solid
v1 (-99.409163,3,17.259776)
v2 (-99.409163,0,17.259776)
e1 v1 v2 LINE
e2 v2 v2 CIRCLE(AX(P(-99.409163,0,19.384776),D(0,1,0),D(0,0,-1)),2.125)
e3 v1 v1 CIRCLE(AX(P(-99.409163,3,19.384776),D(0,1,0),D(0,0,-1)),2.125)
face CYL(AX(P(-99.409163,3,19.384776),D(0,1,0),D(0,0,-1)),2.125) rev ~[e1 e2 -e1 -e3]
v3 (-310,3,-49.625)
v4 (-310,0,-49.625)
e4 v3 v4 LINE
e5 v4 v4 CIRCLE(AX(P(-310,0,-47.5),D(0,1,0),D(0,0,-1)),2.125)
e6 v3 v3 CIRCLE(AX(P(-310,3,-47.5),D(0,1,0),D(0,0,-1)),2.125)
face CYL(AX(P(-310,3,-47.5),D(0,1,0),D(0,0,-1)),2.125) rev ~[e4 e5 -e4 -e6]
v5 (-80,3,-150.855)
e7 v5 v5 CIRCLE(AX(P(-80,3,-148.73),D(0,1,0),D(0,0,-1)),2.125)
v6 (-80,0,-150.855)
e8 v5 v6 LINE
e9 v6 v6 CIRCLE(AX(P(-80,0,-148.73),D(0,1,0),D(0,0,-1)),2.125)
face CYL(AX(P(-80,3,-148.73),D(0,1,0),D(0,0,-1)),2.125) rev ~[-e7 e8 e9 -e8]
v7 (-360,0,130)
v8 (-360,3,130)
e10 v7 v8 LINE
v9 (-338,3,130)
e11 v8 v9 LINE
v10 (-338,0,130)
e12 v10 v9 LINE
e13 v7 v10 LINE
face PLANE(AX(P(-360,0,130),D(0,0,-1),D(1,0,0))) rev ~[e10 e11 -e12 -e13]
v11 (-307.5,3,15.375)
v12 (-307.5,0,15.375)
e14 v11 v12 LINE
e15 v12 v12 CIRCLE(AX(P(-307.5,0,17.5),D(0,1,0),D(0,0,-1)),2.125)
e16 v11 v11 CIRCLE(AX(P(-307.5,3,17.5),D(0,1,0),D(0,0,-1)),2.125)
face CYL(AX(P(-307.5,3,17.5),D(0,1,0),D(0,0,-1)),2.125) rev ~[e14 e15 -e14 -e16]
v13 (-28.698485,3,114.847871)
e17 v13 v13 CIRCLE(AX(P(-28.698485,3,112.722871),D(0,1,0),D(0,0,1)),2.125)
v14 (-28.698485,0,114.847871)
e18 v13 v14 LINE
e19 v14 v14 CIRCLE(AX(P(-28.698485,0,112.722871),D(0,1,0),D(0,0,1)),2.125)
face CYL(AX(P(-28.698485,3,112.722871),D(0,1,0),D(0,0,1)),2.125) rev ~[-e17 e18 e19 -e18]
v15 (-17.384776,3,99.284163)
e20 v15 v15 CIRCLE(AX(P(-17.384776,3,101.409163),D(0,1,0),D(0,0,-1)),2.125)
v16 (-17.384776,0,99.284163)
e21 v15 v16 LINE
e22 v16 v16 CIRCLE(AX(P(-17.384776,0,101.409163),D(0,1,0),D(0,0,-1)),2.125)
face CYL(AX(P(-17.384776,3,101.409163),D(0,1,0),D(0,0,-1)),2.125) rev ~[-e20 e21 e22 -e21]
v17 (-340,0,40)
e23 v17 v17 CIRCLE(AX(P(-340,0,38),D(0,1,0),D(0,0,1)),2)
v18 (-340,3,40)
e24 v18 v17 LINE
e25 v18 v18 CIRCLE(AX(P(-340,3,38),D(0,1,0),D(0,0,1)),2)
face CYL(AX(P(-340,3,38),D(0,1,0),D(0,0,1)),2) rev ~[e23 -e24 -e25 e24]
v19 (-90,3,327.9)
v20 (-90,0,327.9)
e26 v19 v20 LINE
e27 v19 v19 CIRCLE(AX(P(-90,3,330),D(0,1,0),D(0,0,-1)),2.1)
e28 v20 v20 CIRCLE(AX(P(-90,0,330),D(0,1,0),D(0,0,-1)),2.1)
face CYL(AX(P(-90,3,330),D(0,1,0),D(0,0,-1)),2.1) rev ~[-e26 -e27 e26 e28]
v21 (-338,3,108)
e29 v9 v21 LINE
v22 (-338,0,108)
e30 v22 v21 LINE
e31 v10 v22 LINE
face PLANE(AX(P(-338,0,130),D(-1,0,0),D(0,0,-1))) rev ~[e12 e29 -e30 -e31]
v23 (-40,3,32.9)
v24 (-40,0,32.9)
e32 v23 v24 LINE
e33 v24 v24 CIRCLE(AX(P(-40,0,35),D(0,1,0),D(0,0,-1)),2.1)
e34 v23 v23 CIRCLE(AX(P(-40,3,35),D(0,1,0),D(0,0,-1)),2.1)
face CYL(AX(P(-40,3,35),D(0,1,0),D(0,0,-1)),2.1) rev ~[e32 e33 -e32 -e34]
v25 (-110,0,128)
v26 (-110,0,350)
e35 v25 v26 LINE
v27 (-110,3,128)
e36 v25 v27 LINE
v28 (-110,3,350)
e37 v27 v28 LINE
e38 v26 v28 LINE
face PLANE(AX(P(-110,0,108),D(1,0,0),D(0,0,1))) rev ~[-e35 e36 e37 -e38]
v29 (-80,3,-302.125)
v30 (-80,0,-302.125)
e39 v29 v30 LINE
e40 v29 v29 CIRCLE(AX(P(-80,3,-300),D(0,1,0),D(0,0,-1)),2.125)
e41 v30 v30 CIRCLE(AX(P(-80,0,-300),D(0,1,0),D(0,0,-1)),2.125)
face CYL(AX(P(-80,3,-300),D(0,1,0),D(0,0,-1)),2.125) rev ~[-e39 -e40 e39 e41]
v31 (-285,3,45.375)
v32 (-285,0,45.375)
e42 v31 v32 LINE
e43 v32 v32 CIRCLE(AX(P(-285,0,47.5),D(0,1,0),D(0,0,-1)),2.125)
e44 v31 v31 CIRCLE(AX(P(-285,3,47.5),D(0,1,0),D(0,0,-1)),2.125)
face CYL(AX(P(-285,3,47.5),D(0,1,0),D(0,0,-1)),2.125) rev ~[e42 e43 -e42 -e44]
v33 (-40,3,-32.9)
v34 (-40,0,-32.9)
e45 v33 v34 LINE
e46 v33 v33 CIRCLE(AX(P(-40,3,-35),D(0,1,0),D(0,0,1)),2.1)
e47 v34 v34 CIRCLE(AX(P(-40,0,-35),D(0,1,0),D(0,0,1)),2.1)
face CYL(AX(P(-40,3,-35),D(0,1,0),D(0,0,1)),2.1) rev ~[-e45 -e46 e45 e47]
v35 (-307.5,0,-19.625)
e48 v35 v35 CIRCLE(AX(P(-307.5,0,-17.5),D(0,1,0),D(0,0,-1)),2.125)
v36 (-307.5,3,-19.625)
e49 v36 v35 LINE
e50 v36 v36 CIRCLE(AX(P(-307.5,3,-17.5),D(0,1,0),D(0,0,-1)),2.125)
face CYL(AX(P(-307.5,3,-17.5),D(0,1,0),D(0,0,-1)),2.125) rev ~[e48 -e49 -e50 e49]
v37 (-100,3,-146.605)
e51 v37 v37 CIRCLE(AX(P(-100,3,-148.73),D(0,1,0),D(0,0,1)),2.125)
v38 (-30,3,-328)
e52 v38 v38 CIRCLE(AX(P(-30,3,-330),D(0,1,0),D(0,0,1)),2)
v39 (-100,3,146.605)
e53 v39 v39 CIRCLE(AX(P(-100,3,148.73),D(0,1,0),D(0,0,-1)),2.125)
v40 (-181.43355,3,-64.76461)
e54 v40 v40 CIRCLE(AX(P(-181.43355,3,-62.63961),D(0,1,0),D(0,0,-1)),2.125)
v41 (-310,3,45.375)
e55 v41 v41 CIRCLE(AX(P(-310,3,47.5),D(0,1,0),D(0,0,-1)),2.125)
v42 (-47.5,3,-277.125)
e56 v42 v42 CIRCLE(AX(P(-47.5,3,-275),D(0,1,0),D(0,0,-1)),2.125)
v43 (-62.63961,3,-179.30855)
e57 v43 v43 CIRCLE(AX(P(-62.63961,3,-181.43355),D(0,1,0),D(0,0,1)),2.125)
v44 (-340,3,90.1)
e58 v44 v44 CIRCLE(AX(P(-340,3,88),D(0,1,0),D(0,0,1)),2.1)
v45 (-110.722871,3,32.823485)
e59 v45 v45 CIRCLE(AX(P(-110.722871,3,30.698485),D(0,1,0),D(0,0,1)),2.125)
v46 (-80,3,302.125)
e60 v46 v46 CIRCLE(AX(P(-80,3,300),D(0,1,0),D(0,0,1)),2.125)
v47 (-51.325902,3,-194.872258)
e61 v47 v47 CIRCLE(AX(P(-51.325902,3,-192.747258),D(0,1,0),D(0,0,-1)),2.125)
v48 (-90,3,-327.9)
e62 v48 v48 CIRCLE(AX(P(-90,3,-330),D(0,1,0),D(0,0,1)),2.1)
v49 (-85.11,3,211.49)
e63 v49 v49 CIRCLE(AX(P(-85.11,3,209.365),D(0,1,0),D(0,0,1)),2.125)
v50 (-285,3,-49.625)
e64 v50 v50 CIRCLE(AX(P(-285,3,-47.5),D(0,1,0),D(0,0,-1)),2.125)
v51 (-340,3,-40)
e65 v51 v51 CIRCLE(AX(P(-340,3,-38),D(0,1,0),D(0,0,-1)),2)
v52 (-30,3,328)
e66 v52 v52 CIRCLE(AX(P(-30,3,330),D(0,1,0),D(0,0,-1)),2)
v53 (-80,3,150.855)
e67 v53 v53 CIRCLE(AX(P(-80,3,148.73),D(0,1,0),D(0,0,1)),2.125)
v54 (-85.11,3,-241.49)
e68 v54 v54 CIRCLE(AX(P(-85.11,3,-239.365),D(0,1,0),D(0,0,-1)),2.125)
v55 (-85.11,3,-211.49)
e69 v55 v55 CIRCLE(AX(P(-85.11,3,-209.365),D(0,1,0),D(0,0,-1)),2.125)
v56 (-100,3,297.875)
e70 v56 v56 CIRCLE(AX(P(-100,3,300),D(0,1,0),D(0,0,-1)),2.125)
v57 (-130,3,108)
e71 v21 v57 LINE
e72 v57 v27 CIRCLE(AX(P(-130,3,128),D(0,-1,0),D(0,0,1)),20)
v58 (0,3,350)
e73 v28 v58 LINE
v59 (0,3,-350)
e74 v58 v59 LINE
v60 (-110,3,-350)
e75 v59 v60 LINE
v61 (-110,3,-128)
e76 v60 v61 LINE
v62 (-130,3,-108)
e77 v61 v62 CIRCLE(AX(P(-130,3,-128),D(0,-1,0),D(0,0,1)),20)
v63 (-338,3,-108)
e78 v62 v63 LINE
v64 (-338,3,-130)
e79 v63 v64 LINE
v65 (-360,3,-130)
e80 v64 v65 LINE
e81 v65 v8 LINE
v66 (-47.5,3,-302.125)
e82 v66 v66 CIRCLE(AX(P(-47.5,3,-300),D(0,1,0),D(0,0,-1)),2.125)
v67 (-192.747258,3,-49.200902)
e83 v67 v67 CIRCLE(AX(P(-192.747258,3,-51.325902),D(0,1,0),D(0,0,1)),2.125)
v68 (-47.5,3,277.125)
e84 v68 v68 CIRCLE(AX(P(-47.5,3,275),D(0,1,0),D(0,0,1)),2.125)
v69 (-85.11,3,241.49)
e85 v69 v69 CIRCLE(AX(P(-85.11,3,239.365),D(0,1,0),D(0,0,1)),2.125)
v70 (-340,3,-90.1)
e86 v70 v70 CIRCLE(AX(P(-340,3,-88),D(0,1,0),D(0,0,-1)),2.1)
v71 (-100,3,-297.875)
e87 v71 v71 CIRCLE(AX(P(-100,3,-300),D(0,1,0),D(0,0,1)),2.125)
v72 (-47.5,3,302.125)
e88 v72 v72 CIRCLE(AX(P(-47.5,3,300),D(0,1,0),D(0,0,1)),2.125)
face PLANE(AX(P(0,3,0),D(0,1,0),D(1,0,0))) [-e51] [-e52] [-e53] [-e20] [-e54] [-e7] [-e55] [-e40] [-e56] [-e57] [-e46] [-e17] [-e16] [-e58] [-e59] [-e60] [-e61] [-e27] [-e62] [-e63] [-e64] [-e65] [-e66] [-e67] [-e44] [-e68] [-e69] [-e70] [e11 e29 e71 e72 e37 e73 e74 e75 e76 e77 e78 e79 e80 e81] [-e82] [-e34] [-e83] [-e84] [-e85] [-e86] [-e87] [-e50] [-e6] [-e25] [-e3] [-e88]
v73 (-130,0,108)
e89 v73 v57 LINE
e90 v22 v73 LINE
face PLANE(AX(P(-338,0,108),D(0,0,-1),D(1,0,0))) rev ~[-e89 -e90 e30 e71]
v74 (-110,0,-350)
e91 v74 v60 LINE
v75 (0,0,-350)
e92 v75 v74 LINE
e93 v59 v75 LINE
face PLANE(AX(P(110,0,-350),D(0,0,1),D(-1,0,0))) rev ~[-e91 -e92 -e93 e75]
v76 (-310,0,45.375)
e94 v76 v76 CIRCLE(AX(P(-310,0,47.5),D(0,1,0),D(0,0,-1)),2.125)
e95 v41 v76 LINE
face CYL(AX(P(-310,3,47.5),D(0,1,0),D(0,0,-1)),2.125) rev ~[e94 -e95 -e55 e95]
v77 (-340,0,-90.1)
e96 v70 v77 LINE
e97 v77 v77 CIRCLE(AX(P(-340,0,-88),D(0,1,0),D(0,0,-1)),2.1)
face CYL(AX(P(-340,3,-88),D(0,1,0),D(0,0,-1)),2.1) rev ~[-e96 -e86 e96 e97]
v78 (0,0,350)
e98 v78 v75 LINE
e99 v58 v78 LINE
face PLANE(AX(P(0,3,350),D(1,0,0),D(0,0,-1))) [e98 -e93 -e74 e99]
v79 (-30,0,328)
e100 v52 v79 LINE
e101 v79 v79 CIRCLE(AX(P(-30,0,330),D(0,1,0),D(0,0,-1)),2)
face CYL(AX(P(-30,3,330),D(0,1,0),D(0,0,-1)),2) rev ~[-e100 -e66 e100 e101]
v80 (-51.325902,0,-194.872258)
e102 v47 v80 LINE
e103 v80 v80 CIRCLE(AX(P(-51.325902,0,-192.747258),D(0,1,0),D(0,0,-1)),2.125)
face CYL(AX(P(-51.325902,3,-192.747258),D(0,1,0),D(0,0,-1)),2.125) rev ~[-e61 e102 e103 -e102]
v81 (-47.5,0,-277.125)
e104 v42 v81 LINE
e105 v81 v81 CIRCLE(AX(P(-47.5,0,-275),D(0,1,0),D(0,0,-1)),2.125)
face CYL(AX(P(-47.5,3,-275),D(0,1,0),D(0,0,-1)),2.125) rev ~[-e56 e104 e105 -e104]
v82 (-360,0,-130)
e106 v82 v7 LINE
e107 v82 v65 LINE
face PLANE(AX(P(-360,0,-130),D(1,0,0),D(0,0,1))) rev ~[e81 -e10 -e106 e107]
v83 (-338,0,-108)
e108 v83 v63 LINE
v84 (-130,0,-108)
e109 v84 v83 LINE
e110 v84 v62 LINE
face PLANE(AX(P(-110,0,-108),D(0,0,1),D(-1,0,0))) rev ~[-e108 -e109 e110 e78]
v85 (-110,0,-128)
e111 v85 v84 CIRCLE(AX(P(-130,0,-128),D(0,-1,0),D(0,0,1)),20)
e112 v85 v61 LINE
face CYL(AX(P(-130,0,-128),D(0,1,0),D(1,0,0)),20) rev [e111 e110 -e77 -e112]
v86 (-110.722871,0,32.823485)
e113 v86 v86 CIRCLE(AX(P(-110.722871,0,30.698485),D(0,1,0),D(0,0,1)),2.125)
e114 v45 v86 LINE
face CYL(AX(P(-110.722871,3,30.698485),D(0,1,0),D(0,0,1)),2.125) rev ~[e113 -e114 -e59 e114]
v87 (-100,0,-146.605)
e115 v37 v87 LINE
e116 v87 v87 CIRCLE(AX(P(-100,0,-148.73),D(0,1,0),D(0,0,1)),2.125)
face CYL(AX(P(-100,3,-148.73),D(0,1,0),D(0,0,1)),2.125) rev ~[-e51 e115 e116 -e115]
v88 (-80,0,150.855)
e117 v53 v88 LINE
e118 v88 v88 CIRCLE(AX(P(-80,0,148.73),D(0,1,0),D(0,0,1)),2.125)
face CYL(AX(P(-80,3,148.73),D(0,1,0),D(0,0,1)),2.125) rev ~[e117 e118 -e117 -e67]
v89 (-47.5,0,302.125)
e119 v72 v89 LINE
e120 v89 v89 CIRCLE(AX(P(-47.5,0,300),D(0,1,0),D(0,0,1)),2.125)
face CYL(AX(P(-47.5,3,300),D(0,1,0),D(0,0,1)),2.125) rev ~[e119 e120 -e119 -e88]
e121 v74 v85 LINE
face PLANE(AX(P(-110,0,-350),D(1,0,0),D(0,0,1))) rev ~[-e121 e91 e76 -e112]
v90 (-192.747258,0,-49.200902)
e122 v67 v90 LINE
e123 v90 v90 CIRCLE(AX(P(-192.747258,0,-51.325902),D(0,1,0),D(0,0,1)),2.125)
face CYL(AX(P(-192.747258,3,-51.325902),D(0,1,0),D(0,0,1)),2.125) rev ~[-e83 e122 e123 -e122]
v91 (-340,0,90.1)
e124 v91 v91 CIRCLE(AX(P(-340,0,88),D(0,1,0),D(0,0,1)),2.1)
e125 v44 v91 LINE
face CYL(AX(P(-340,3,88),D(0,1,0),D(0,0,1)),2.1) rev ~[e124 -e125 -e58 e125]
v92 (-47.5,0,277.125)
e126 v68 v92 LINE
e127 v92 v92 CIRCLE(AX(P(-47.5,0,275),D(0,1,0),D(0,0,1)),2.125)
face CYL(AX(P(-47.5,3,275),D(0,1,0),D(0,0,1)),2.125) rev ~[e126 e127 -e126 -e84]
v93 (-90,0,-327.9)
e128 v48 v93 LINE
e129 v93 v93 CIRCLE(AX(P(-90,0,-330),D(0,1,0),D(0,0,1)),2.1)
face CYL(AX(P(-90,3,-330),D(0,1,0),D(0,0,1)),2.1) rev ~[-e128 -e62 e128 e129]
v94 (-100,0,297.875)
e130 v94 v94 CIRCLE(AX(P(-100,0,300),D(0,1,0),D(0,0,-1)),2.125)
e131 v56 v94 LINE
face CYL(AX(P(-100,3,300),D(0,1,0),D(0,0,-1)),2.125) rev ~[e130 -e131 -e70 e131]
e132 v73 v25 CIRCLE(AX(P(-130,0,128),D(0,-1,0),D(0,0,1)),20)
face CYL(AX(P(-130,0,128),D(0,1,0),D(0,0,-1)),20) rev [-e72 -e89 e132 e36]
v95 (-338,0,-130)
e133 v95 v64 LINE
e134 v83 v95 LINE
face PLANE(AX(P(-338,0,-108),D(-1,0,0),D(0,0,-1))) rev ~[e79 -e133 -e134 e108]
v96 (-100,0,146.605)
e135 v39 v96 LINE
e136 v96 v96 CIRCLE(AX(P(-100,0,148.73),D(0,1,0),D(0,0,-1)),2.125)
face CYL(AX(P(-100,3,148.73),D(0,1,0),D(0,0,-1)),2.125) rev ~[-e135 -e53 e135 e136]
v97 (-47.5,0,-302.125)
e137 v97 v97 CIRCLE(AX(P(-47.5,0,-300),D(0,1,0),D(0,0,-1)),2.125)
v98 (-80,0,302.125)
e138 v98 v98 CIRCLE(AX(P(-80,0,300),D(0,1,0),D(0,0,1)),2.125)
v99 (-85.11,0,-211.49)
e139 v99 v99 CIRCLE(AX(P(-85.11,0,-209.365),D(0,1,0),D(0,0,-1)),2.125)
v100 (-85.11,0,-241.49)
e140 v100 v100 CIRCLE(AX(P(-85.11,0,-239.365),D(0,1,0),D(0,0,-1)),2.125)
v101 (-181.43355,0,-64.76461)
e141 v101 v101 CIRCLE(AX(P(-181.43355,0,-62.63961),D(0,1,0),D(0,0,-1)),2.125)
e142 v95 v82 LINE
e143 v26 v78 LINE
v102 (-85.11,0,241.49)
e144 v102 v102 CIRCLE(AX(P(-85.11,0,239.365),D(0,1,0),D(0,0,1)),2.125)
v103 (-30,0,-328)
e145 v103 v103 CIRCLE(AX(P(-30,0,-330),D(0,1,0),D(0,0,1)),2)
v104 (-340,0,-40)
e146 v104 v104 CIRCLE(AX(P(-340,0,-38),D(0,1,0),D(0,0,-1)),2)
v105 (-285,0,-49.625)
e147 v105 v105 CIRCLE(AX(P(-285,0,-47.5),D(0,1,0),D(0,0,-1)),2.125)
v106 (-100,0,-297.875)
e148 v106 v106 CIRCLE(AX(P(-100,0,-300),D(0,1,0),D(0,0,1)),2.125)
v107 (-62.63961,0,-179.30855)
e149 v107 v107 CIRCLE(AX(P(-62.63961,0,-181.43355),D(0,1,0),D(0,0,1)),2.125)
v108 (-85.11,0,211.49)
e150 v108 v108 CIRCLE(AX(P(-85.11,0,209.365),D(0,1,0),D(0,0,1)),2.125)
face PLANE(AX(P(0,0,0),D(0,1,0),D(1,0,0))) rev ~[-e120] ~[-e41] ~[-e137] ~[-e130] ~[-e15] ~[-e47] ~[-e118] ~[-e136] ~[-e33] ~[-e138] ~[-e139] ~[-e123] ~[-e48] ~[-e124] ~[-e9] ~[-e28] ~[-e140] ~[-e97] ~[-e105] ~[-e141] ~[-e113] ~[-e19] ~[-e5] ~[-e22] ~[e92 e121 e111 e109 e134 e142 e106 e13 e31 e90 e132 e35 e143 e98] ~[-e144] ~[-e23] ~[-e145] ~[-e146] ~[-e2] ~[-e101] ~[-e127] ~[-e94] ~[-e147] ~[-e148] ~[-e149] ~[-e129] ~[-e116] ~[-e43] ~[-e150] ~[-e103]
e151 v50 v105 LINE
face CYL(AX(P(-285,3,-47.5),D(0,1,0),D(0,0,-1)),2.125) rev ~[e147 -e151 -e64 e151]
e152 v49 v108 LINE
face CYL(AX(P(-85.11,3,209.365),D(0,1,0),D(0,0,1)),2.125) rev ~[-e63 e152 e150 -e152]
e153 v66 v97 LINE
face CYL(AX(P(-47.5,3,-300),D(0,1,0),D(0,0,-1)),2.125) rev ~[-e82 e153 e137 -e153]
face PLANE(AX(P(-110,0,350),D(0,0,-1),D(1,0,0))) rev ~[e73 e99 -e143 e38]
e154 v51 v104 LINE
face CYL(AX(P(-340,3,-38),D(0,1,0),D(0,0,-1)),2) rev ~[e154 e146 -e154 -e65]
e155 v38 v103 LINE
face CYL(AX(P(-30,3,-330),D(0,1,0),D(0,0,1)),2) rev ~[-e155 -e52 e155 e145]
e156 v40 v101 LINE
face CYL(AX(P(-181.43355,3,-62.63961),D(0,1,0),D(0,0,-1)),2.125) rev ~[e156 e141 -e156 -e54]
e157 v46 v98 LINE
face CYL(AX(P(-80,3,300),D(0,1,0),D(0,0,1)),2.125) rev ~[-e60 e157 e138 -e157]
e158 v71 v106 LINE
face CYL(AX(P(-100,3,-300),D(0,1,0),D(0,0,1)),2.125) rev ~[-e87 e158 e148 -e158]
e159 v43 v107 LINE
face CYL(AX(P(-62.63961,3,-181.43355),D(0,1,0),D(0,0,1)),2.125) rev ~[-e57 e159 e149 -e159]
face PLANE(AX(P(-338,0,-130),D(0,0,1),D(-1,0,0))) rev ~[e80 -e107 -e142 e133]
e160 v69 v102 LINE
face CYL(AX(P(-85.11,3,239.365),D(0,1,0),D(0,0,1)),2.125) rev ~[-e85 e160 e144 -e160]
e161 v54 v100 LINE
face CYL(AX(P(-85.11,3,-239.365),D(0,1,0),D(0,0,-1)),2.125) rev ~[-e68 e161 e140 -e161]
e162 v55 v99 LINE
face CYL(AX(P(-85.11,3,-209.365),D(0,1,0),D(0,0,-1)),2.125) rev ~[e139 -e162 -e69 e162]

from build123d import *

# Parameters (mm, degrees)
BOSS_EXTRUDE1_DEPTH = 3
SKETCH2_R           = 2.125
CUT_EXTRUDE1_DEPTH  = 503.104570782
SKETCH3_R           = 2
CUT_EXTRUDE2_DEPTH  = 503.104570782
SKETCH5_R           = 2.125
CUT_EXTRUDE4_DEPTH  = 10
FILLET1_R           = 20
SKETCH6_R           = 2.125
CUT_EXTRUDE5_DEPTH  = 503.104570782
SKETCH8_R           = 2.1
CUT_EXTRUDE6_DEPTH  = 10
SKETCH7_R           = 2.1
CUT_EXTRUDE7_DEPTH  = 10
SKETCH9_W           = 360
SKETCH9_H           = 700
CUT_EXTRUDE8_DEPTH  = 10


with BuildPart() as part:
    # Sketch1 → Boss-Extrude1 (new body)
    with BuildSketch(Plane(origin=(0, 0, 0), x_dir=(1, 0, 0), z_dir=(0, 1, 0))):
        Polygon((-110, 350), (-110, 108), (-338, 108), (-338, 130), (-360, 130), (-360, -130), (-338, -130), (-338, -108), (-110, -108), (-110, -350), (110, -350), (110, -108), (338, -108), (338, -130), (360, -130), (360, 130), (338, 130), (338, 108), (110, 108), (110, 350), align=None)
    extrude(amount=BOSS_EXTRUDE1_DEPTH)

    # Sketch2 → Cut-Extrude1 (cut, through all)
    with BuildSketch(Plane(origin=(0, 3, 0), x_dir=(1, 0, 0), z_dir=(0, 1, 0))):
        with Locations(Location((310, 47.5, 0), (0, 0, 270))):
            Circle(SKETCH2_R)
        with Locations(Location((285, 47.5, 0), (0, 0, 270))):
            Circle(SKETCH2_R)
        with Locations(Location((307.5, 17.5, 0), (0, 0, 270))):
            Circle(SKETCH2_R)
        with Locations(Location((307.5, -17.5, 0), (0, 0, 270))):
            Circle(SKETCH2_R)
        with Locations(Location((310, -47.5, 0), (0, 0, 270))):
            Circle(SKETCH2_R)
        with Locations(Location((285, -47.5, 0), (0, 0, 270))):
            Circle(SKETCH2_R)
        with Locations(Location((-285, -47.5, 0), (0, 0, 90))):
            Circle(SKETCH2_R)
        with Locations(Location((-310, -47.5, 0), (0, 0, 90))):
            Circle(SKETCH2_R)
        with Locations(Location((-307.5, -17.5, 0), (0, 0, 90))):
            Circle(SKETCH2_R)
        with Locations(Location((-307.5, 17.5, 0), (0, 0, 90))):
            Circle(SKETCH2_R)
        with Locations(Location((-285, 47.5, 0), (0, 0, 90))):
            Circle(SKETCH2_R)
        with Locations(Location((-310, 47.5, 0), (0, 0, 90))):
            Circle(SKETCH2_R)
        with Locations(Location((47.5, 300, 0), (0, 0, 270))):
            Circle(SKETCH2_R)
        with Locations(Location((47.5, 275, 0), (0, 0, 270))):
            Circle(SKETCH2_R)
        with Locations(Location((-47.5, 275, 0), (0, 0, 90))):
            Circle(SKETCH2_R)
        with Locations(Location((-47.5, 300, 0), (0, 0, 90))):
            Circle(SKETCH2_R)
        with Locations(Location((-47.5, -300, 0), (0, 0, 270))):
            Circle(SKETCH2_R)
        with Locations(Location((-47.5, -275, 0), (0, 0, 270))):
            Circle(SKETCH2_R)
        with Locations(Location((47.5, -275, 0), (0, 0, 90))):
            Circle(SKETCH2_R)
        with Locations(Location((47.5, -300, 0), (0, 0, 90))):
            Circle(SKETCH2_R)
    extrude(amount=-CUT_EXTRUDE1_DEPTH, mode=Mode.SUBTRACT)

    # Sketch3 → Cut-Extrude2 (cut, through all)
    with BuildSketch(Plane(origin=(0, 3, 0), x_dir=(1, 0, 0), z_dir=(0, 1, 0))):
        with Locations(Location((340, 38, 0), (0, 0, 270))):
            Circle(SKETCH3_R)
        with Locations(Location((340, -38, 0), (0, 0, 90))):
            Circle(SKETCH3_R)
        with Locations(Location((-340, -38, 0), (0, 0, 270))):
            Circle(SKETCH3_R)
        with Locations(Location((-340, 38, 0), (0, 0, 90))):
            Circle(SKETCH3_R)
        with Locations(Location((-30, 330, 0), (0, 0, 270))):
            Circle(SKETCH3_R)
        with Locations(Location((30, 330, 0), (0, 0, 90))):
            Circle(SKETCH3_R)
        with Locations(Location((30, -330, 0), (0, 0, 270))):
            Circle(SKETCH3_R)
        with Locations(Location((-30, -330, 0), (0, 0, 90))):
            Circle(SKETCH3_R)
    extrude(amount=-CUT_EXTRUDE2_DEPTH, mode=Mode.SUBTRACT)

    # Sketch5 → Cut-Extrude4 (cut)
    with BuildSketch(Plane(origin=(0, 3, 0), x_dir=(1, 0, 0), z_dir=(0, 1, 0))):
        with Locations(Location((80, 300, 0), (0, 0, 270))):
            Circle(SKETCH5_R)
        with Locations(Location((80, 148.73, 0), (0, 0, 270))):
            Circle(SKETCH5_R)
        with Locations(Location((85.11, 239.365, 0), (0, 0, 270))):
            Circle(SKETCH5_R)
        with Locations(Location((85.11, 209.365, 0), (0, 0, 270))):
            Circle(SKETCH5_R)
        with Locations(Location((100, 148.73, 0), (0, 0, 90))):
            Circle(SKETCH5_R)
        with Locations(Location((100, 300, 0), (0, 0, 90))):
            Circle(SKETCH5_R)
        with Locations(Location((-100, 300, 0), (0, 0, 270))):
            Circle(SKETCH5_R)
        with Locations(Location((-100, 148.73, 0), (0, 0, 270))):
            Circle(SKETCH5_R)
        with Locations(Location((-85.11, 209.365, 0), (0, 0, 90))):
            Circle(SKETCH5_R)
        with Locations(Location((-85.11, 239.365, 0), (0, 0, 90))):
            Circle(SKETCH5_R)
        with Locations(Location((-80, 148.73, 0), (0, 0, 90))):
            Circle(SKETCH5_R)
        with Locations(Location((-80, 300, 0), (0, 0, 90))):
            Circle(SKETCH5_R)
        with Locations(Location((-80, -300, 0), (0, 0, 270))):
            Circle(SKETCH5_R)
        with Locations(Location((-80, -148.73, 0), (0, 0, 270))):
            Circle(SKETCH5_R)
        with Locations(Location((-85.11, -239.365, 0), (0, 0, 270))):
            Circle(SKETCH5_R)
        with Locations(Location((-85.11, -209.365, 0), (0, 0, 270))):
            Circle(SKETCH5_R)
        with Locations(Location((-100, -148.73, 0), (0, 0, 90))):
            Circle(SKETCH5_R)
        with Locations(Location((-100, -300, 0), (0, 0, 90))):
            Circle(SKETCH5_R)
        with Locations(Location((100, -300, 0), (0, 0, 270))):
            Circle(SKETCH5_R)
        with Locations(Location((100, -148.73, 0), (0, 0, 270))):
            Circle(SKETCH5_R)
        with Locations(Location((85.11, -209.365, 0), (0, 0, 90))):
            Circle(SKETCH5_R)
        with Locations(Location((85.11, -239.365, 0), (0, 0, 90))):
            Circle(SKETCH5_R)
        with Locations(Location((80, -148.73, 0), (0, 0, 90))):
            Circle(SKETCH5_R)
        with Locations(Location((80, -300, 0), (0, 0, 90))):
            Circle(SKETCH5_R)
    extrude(amount=-CUT_EXTRUDE4_DEPTH, mode=Mode.SUBTRACT)

    # Fillet1
    fillet1_edges = [part.edges().sort_by_distance(p)[0] for p in [
        (110, 1.5, -108),
        (110, 1.5, 108),
        (-110, 1.5, 108),
        (-110, 1.5, -108),
    ]]
    fillet(fillet1_edges, radius=FILLET1_R)

    # Sketch6 → Cut-Extrude5 (cut, through all)
    with BuildSketch(Plane(origin=(0, 3, 0), x_dir=(1, 0, 0), z_dir=(0, 1, 0))):
        with Locations(Location((53.325901808, -194.747258045, 0), (0, 0, 270))):
            Circle(SKETCH6_R)
        with Locations(Location((-192.747258045, 51.325901808, 0), (0, 0, 270))):
            Circle(SKETCH6_R)
        with Locations(Location((-28.69848481, -112.722871427, 0), (0, 0, 270))):
            Circle(SKETCH6_R)
        with Locations(Location((-110.722871427, -30.69848481, 0), (0, 0, 270))):
            Circle(SKETCH6_R)
        with Locations(Location((64.639610307, -183.433549546, 0), (0, 0, 90))):
            Circle(SKETCH6_R)
        with Locations(Location((-17.384776311, -101.409162928, 0), (0, 0, 90))):
            Circle(SKETCH6_R)
        with Locations(Location((-99.409162928, -19.384776311, 0), (0, 0, 90))):
            Circle(SKETCH6_R)
        with Locations(Location((-181.433549546, 62.639610307, 0), (0, 0, 90))):
            Circle(SKETCH6_R)
        with Locations(Location((-62.639610307, 181.433549546, 0), (0, 0, 270))):
            Circle(SKETCH6_R)
        with Locations(Location((19.384776311, 99.409162928, 0), (0, 0, 270))):
            Circle(SKETCH6_R)
        with Locations(Location((101.409162928, 17.384776311, 0), (0, 0, 270))):
            Circle(SKETCH6_R)
        with Locations(Location((183.433549546, -64.639610307, 0), (0, 0, 270))):
            Circle(SKETCH6_R)
        with Locations(Location((30.69848481, 110.722871427, 0), (0, 0, 90))):
            Circle(SKETCH6_R)
        with Locations(Location((112.722871427, 28.69848481, 0), (0, 0, 90))):
            Circle(SKETCH6_R)
        with Locations(Location((-51.325901808, 192.747258045, 0), (0, 0, 90))):
            Circle(SKETCH6_R)
        with Locations(Location((194.747258045, -53.325901808, 0), (0, 0, 90))):
            Circle(SKETCH6_R)
    extrude(amount=-CUT_EXTRUDE5_DEPTH, mode=Mode.SUBTRACT)

    # Sketch8 → Cut-Extrude6 (cut)
    with BuildSketch(Plane(origin=(0, 3, 0), x_dir=(1, 0, 0), z_dir=(0, 1, 0))):
        with Locations(Location((-40, 35, 0), (0, 0, 270))):
            Circle(SKETCH8_R)
        with Locations(Location((40, 35, 0), (0, 0, 90))):
            Circle(SKETCH8_R)
        with Locations(Location((40, -35, 0), (0, 0, 270))):
            Circle(SKETCH8_R)
        with Locations(Location((-40, -35, 0), (0, 0, 90))):
            Circle(SKETCH8_R)
    extrude(amount=-CUT_EXTRUDE6_DEPTH, mode=Mode.SUBTRACT)

    # Sketch7 → Cut-Extrude7 (cut)
    with BuildSketch(Plane(origin=(0, 3, 0), x_dir=(1, 0, 0), z_dir=(0, 1, 0))):
        with Locations(Location((340, 88, 0), (0, 0, 270))):
            Circle(SKETCH7_R)
        with Locations(Location((340, -88, 0), (0, 0, 90))):
            Circle(SKETCH7_R)
        with Locations(Location((-340, -88, 0), (0, 0, 270))):
            Circle(SKETCH7_R)
        with Locations(Location((-340, 88, 0), (0, 0, 90))):
            Circle(SKETCH7_R)
        with Locations(Location((-90, 330, 0), (0, 0, 270))):
            Circle(SKETCH7_R)
        with Locations(Location((90, 330, 0), (0, 0, 90))):
            Circle(SKETCH7_R)
        with Locations(Location((90, -330, 0), (0, 0, 270))):
            Circle(SKETCH7_R)
        with Locations(Location((-90, -330, 0), (0, 0, 90))):
            Circle(SKETCH7_R)
    extrude(amount=-CUT_EXTRUDE7_DEPTH, mode=Mode.SUBTRACT)

    # Sketch9 → Cut-Extrude8 (cut)
    with BuildSketch(Plane(origin=(0, 3, 0), x_dir=(1, 0, 0), z_dir=(0, 1, 0))):
        with Locations((180, 0)):
            Rectangle(SKETCH9_W, SKETCH9_H)
    extrude(amount=-CUT_EXTRUDE8_DEPTH, mode=Mode.SUBTRACT)


solid = part.part
